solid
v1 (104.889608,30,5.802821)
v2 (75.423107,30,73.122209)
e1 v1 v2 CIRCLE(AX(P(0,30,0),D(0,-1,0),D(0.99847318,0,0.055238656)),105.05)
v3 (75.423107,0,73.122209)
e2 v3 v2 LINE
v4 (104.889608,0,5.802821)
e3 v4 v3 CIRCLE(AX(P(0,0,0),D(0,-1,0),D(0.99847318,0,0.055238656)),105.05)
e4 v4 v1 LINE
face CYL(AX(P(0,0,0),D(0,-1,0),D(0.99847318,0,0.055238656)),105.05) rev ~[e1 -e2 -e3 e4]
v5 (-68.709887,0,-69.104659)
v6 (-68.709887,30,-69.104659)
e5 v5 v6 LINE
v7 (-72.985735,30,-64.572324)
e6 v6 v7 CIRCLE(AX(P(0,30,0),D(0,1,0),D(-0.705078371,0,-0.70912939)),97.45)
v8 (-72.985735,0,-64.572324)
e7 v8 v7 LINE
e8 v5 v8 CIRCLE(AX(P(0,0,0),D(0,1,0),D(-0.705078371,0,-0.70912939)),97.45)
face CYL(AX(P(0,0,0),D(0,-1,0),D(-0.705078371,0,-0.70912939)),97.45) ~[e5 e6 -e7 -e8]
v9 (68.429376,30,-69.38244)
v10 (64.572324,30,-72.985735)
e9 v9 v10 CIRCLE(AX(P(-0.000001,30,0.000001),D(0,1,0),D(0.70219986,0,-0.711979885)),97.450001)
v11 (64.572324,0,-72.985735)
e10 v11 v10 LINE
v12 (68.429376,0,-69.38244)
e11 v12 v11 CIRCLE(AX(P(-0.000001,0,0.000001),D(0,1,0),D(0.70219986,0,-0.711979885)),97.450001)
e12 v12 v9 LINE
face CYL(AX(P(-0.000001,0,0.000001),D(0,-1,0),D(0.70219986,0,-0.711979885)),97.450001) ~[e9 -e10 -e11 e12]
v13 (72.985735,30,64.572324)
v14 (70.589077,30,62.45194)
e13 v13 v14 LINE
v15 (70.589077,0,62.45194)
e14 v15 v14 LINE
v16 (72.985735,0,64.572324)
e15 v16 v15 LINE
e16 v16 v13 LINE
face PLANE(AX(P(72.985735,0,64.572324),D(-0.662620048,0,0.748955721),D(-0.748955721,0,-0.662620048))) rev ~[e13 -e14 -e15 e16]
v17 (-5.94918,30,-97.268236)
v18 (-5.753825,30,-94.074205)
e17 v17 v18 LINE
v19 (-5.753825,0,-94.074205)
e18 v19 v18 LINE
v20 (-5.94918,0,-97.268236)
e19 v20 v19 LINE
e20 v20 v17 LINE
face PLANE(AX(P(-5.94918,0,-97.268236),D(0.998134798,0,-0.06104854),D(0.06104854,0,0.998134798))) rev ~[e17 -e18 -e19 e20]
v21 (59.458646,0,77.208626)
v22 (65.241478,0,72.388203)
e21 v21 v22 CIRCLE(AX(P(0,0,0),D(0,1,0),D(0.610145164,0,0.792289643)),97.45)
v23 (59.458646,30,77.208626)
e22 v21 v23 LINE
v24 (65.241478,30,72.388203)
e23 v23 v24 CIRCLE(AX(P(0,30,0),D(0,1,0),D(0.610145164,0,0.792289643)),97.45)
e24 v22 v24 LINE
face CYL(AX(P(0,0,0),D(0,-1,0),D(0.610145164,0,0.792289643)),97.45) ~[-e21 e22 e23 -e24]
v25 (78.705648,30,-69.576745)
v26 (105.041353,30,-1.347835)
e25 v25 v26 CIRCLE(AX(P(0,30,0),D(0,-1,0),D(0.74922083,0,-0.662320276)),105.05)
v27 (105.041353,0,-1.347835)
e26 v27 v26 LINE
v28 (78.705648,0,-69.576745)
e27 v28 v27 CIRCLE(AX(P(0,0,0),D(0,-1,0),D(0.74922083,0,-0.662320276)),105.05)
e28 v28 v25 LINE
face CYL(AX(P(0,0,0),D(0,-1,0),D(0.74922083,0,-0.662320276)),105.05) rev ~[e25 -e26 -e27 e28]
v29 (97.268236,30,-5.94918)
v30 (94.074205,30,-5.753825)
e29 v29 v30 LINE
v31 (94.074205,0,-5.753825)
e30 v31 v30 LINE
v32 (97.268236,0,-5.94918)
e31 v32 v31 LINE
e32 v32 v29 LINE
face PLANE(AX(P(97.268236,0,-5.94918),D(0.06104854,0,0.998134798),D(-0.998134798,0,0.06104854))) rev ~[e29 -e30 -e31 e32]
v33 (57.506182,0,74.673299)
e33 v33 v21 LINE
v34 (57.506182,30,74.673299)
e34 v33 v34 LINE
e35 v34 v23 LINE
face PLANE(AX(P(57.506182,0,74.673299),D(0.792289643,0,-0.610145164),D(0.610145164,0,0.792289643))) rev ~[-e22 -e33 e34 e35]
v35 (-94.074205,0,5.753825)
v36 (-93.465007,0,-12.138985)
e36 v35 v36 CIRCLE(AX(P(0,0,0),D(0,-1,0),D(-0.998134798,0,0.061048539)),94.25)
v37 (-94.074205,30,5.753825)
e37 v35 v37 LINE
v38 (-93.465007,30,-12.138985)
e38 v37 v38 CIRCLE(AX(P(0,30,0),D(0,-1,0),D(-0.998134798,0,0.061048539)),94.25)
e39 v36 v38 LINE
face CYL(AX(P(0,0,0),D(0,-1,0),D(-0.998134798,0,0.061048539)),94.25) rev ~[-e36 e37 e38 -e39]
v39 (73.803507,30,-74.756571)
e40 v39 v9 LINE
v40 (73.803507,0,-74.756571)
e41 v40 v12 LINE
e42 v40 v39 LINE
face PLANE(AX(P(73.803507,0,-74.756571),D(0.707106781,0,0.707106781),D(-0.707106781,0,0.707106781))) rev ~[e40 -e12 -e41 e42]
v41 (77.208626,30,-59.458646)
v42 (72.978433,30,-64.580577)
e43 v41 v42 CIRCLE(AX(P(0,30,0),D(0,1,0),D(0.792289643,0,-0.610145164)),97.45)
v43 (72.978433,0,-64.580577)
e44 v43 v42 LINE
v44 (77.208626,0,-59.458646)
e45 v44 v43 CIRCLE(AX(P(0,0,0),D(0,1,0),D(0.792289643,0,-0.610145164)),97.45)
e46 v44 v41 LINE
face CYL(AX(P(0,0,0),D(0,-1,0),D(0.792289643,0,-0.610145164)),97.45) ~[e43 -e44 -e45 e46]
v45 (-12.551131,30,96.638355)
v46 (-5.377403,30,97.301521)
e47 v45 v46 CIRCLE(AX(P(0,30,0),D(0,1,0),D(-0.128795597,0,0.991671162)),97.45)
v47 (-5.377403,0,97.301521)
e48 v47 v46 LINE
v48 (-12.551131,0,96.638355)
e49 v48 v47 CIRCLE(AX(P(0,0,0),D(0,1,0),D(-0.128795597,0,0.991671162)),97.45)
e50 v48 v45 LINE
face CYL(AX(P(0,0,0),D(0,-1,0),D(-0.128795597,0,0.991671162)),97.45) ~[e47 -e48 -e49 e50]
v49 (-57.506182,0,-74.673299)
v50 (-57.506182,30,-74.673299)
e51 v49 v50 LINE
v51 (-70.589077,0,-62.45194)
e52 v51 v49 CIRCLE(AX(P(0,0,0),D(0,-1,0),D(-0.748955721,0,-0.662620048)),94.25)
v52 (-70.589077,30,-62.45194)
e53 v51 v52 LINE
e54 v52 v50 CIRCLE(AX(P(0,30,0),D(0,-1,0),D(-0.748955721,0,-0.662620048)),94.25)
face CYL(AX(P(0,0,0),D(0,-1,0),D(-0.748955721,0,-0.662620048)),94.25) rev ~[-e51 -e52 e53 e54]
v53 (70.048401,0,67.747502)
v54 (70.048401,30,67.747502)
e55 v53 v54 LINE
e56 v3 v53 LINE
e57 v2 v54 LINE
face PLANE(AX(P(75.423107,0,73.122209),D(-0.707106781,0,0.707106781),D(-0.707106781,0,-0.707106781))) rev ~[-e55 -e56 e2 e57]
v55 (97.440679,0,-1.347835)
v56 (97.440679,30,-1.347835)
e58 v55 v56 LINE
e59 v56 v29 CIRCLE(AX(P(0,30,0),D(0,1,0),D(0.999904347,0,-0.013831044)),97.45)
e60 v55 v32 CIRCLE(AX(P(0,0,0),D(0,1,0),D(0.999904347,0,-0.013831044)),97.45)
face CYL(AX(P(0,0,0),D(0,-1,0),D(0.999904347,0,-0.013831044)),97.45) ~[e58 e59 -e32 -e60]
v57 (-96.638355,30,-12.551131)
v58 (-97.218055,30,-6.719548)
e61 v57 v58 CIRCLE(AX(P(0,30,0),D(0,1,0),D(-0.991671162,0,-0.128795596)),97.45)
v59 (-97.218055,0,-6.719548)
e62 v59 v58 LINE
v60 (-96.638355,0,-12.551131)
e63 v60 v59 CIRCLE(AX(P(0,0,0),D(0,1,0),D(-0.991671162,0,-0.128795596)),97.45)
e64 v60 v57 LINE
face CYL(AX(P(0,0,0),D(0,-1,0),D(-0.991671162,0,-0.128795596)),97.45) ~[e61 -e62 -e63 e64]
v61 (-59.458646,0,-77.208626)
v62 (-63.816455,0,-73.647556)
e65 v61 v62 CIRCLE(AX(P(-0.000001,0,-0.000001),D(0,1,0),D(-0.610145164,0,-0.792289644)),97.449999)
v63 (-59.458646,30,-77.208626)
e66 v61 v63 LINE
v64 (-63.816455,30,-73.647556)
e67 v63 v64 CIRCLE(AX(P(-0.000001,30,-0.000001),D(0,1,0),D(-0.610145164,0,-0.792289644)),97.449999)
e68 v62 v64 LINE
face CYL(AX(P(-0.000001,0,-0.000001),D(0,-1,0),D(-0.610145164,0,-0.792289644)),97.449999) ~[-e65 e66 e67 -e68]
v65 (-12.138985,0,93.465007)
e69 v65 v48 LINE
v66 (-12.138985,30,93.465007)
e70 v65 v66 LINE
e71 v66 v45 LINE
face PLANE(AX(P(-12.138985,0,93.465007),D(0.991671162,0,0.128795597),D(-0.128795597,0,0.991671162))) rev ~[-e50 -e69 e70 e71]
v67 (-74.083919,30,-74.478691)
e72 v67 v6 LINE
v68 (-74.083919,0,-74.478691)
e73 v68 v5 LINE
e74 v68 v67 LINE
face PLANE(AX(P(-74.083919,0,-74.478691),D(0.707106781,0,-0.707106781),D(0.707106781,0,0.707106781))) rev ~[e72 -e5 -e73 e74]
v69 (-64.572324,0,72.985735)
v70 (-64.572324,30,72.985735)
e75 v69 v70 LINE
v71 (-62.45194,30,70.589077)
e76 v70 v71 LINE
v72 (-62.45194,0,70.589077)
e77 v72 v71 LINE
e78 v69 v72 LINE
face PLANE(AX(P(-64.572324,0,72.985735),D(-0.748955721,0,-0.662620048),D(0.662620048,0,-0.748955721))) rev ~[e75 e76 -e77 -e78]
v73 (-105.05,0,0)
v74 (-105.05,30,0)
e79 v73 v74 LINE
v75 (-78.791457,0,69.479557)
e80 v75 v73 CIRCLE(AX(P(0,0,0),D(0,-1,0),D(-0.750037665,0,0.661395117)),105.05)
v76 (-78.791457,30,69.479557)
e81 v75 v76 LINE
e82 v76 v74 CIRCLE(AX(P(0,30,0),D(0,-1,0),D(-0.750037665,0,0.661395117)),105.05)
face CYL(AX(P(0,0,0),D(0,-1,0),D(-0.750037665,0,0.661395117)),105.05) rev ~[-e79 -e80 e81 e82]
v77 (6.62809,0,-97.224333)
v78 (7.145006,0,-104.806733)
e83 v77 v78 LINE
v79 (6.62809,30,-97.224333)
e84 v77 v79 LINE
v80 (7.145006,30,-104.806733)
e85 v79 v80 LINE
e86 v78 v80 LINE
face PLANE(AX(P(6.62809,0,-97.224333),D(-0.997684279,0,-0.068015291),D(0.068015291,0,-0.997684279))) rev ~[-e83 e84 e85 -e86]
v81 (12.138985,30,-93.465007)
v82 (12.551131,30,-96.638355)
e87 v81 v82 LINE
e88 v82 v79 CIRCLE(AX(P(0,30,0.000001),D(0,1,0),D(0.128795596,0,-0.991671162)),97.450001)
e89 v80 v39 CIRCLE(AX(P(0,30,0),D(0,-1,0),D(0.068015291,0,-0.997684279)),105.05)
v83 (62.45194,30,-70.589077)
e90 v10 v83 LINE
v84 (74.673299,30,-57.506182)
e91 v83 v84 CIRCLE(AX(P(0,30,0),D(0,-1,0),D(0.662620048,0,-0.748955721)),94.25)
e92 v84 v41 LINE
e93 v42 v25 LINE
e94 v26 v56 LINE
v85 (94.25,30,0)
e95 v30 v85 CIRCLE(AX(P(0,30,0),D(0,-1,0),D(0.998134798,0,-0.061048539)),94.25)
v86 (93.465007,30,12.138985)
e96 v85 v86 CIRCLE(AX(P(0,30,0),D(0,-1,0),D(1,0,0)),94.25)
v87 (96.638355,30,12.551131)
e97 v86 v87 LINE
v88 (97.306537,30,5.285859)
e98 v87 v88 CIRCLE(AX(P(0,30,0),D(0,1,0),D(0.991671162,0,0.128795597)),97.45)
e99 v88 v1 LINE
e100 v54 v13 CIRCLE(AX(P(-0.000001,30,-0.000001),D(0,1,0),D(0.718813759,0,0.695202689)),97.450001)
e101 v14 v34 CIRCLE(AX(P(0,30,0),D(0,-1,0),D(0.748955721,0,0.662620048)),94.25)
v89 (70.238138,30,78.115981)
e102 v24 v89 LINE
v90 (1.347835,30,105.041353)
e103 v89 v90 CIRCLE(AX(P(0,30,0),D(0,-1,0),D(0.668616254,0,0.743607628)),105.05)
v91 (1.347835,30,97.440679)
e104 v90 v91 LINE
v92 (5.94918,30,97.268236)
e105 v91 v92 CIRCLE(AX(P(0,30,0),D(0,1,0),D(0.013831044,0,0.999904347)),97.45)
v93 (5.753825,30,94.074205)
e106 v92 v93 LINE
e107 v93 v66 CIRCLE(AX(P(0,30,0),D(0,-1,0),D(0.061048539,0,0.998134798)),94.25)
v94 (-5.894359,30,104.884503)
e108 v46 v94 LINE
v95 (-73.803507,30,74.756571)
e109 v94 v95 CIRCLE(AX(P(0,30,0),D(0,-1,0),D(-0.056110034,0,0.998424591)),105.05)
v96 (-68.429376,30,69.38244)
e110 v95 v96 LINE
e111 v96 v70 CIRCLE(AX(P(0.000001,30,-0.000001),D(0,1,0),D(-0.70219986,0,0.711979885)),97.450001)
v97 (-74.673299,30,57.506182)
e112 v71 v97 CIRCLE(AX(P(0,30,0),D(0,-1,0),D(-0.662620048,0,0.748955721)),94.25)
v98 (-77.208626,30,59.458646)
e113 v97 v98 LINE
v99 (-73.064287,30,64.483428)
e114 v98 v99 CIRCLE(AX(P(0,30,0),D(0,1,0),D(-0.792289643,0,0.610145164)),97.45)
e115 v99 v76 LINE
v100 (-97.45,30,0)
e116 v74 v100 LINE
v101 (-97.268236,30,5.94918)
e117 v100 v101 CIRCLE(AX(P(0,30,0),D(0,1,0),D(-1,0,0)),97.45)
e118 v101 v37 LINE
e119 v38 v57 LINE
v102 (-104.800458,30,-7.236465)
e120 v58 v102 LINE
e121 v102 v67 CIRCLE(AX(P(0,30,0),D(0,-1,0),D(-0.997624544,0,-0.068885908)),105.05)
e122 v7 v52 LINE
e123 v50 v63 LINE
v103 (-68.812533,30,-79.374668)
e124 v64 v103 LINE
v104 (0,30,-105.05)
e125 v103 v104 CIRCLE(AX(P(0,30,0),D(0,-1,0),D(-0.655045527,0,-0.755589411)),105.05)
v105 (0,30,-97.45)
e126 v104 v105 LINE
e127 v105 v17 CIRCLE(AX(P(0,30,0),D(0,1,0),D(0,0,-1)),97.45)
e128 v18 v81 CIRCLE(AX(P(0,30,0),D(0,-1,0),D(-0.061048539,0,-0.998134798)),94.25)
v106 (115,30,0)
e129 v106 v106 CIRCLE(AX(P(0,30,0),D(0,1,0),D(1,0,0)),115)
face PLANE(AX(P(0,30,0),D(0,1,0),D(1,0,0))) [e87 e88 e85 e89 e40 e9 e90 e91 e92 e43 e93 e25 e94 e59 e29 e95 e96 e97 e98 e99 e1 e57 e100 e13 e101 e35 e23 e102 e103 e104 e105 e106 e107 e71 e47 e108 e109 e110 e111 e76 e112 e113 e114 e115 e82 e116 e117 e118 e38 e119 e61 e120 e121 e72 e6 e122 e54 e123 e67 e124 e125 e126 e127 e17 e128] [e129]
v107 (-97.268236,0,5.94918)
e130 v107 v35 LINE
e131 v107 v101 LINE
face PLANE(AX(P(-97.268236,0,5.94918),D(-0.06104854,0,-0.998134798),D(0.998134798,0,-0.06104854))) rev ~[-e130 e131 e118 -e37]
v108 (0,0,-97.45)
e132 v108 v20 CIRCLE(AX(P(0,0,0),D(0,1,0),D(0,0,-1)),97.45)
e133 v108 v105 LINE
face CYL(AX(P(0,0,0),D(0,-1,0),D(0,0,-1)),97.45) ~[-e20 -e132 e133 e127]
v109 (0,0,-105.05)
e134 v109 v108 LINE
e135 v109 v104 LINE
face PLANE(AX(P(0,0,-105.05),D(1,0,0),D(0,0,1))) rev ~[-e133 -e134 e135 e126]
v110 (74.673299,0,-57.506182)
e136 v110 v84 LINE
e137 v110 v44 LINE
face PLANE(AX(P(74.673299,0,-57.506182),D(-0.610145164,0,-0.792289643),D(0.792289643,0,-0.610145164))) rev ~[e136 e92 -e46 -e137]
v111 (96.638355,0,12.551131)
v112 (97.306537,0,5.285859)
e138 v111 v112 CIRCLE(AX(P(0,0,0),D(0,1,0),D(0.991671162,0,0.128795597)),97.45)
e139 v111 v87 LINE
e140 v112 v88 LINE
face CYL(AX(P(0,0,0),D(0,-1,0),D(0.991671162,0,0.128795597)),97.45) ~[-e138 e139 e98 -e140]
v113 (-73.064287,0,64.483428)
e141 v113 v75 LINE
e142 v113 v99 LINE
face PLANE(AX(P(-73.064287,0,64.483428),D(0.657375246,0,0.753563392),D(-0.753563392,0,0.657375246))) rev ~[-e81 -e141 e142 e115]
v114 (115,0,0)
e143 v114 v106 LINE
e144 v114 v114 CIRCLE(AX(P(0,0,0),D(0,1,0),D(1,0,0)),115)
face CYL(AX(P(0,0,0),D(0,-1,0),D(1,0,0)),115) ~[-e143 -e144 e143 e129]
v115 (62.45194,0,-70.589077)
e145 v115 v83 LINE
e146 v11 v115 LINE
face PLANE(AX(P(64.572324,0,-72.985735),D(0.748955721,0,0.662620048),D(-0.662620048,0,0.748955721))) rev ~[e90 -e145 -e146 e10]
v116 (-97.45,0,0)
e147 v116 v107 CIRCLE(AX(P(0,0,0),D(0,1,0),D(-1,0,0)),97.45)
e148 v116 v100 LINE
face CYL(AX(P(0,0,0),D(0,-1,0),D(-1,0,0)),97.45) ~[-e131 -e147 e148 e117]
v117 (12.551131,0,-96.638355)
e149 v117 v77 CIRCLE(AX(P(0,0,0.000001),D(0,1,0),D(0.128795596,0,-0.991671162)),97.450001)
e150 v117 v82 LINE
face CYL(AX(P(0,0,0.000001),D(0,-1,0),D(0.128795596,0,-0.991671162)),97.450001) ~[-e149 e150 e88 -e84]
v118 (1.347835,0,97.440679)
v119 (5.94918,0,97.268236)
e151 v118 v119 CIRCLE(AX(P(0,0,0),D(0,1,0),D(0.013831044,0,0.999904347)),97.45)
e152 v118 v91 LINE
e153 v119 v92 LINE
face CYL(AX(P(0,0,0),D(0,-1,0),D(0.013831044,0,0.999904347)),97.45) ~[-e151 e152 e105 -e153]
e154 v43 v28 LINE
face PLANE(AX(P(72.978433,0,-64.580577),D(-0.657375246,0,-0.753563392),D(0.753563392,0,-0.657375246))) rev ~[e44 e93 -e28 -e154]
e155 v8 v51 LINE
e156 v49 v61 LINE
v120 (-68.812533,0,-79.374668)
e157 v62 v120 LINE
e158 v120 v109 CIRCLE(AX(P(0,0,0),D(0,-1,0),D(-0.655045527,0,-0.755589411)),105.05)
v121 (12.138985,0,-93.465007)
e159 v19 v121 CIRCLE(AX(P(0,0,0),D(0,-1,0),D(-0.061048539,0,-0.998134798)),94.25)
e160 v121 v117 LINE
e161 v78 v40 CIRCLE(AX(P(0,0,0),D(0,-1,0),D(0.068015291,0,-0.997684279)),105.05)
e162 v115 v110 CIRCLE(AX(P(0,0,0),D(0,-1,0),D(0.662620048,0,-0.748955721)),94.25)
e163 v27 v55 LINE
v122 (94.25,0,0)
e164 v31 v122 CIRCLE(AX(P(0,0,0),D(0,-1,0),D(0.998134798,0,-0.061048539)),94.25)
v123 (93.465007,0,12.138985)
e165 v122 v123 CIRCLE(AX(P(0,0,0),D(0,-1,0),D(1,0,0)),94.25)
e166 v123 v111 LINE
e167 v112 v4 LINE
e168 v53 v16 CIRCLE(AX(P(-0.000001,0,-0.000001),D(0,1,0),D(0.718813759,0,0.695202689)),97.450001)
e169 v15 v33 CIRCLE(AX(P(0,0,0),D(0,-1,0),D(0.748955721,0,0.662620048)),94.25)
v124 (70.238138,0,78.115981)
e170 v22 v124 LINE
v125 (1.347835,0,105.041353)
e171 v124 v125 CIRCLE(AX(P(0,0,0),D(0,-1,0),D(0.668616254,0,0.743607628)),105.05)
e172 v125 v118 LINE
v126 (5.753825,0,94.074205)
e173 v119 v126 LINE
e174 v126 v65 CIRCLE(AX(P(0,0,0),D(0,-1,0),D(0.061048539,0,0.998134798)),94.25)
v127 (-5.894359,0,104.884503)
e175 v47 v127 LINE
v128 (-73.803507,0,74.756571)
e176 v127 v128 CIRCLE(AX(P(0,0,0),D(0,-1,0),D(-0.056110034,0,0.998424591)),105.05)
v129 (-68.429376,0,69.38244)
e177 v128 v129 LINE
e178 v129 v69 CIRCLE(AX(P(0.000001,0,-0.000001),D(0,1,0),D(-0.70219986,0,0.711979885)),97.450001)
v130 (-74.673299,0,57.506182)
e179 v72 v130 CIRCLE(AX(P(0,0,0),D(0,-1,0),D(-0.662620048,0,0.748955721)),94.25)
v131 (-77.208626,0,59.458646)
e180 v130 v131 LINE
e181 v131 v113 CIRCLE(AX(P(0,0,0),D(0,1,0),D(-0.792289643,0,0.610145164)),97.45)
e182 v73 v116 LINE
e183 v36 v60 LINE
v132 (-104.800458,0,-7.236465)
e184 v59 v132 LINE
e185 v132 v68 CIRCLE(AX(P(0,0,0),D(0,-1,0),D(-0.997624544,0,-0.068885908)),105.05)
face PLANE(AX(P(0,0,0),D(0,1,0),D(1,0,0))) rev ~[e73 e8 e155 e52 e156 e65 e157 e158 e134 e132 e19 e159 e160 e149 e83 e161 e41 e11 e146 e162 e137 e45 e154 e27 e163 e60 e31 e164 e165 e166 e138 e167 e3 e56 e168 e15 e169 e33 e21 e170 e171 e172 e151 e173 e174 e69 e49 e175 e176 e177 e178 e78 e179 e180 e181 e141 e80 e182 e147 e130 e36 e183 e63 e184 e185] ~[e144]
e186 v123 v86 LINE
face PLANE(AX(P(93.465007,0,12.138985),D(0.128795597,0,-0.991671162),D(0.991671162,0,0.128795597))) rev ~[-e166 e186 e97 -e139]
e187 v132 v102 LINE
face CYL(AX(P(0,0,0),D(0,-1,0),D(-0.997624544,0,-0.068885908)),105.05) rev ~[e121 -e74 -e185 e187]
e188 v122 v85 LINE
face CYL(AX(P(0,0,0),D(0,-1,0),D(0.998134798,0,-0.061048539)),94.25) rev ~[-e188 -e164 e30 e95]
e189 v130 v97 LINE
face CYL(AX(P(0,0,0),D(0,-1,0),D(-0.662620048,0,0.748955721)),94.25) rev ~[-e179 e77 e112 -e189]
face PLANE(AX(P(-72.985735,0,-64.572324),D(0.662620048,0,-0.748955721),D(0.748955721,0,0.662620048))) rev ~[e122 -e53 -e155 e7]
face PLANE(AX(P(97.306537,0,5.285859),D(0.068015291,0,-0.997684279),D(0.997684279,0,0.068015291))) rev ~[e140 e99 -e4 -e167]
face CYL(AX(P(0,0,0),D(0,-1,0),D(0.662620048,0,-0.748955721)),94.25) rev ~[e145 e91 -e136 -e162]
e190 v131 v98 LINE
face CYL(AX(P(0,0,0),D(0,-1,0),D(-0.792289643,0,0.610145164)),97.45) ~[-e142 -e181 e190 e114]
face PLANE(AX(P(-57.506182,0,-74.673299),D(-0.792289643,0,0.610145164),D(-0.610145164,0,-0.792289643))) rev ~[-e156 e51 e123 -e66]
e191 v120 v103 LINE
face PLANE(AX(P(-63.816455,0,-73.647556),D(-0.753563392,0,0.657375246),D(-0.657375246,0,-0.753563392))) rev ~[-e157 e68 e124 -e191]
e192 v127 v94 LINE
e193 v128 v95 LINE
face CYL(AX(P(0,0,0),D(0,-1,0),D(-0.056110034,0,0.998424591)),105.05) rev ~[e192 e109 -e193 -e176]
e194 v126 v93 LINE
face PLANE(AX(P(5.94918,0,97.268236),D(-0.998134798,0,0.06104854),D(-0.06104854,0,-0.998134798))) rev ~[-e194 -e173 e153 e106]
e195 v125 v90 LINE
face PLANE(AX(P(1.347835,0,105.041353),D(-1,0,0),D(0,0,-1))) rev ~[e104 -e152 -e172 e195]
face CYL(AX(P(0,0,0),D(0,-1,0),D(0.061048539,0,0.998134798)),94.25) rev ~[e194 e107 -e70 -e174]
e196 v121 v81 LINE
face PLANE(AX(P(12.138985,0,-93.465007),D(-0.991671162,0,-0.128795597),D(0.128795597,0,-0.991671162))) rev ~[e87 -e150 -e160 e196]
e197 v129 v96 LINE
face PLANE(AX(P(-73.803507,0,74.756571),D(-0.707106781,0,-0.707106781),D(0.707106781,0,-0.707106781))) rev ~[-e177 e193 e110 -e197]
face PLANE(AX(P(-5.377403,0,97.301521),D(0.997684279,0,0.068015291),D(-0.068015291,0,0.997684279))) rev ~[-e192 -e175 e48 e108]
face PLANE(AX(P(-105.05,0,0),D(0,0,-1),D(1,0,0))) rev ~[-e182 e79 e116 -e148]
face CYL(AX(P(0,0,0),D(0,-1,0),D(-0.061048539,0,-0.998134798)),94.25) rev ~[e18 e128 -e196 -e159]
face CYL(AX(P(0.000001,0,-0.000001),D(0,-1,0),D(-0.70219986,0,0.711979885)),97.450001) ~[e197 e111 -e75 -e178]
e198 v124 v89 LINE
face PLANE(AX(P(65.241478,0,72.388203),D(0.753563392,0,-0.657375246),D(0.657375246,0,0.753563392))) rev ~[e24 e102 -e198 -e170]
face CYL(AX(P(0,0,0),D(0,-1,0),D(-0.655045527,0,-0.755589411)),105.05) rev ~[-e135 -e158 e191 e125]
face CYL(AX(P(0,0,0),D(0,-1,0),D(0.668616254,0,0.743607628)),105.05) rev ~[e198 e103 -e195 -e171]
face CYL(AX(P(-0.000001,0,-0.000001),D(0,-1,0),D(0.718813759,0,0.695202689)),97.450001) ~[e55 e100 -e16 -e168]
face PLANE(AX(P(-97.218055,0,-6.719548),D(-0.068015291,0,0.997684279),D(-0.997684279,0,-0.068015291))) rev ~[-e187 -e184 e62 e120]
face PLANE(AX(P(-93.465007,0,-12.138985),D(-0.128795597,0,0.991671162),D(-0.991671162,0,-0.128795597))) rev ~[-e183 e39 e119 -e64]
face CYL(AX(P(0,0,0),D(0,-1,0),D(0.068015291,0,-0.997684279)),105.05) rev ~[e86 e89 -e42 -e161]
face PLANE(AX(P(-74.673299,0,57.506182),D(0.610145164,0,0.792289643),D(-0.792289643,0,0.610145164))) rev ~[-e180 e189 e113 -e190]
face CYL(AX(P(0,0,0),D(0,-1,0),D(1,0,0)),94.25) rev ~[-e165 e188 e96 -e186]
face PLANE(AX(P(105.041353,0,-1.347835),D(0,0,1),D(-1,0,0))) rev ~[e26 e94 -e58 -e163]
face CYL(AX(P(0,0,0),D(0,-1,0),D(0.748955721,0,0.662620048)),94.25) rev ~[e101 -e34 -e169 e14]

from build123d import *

# Parameters (mm, degrees)
SKETCH1_R           = 115
BOSS_EXTRUDE1_DEPTH = 30


with BuildPart() as part:
    # Sketch1 → Boss-Extrude1 (new body)
    with BuildSketch(Plane(origin=(0, 0, 0), x_dir=(1, 0, 0), z_dir=(0, 1, 0))):
        Circle(SKETCH1_R)
        with BuildLine():
            Line((0, 105.05), (0, 97.45))
            ThreePointArc((0, 97.45), (-2.975978112, 97.404548427), (-5.949180178, 97.268236106))
            Line((-5.949180178, 97.268236106), (-5.753824851, 94.074204751))
            ThreePointArc((-5.753824851, 94.074204751), (3.207077785, 94.195420016), (12.138984977, 93.465007055))
            Line((12.138984977, 93.465007055), (12.551130886, 96.638354774))
            ThreePointArc((12.551130886, 96.638354774), (9.59408525, 96.976574636), (6.628090075, 97.224332973))
            Line((6.628090075, 97.224332973), (7.145006284, 104.806733492))
            ThreePointArc((7.145006284, 104.806733492), (43.173122748, 95.768387123), (73.803507095, 74.756570551))
            Line((73.803507095, 74.756570551), (68.429376346, 69.382439802))
            ThreePointArc((68.429376346, 69.382439802), (66.525250753, 71.210206517), (64.572323699, 72.985734991))
            Line((64.572323699, 72.985734991), (62.451939544, 70.589076684))
            ThreePointArc((62.451939544, 70.589076684), (68.8739667, 64.338473801), (74.673298886, 57.506181698))
            Line((74.673298886, 57.506181698), (77.208625745, 59.458646222))
            ThreePointArc((77.208625745, 59.458646222), (75.137185677, 62.055667175), (72.978432671, 64.580576529))
            Line((72.978432671, 64.580576529), (78.705648152, 69.576745031))
            ThreePointArc((78.705648152, 69.576745031), (98.00273537, 37.828115999), (105.041353, 1.347835265))
            Line((105.041353, 1.347835265), (97.44067857, 1.347835265))
            ThreePointArc((97.44067857, 1.347835265), (97.381638194, 3.649526366), (97.268236106, 5.949180178))
            Line((97.268236106, 5.949180178), (94.074204751, 5.753824851))
            ThreePointArc((94.074204751, 5.753824851), (94.206040936, 2.87825487), (94.25, 0))
            ThreePointArc((94.25, 0), (94.053547022, -6.082170053), (93.465007055, -12.138984977))
            Line((93.465007055, -12.138984977), (96.638354774, -12.551130886))
            ThreePointArc((96.638354774, -12.551130886), (97.040462342, -8.92475033), (97.306537269, -5.285858937))
            Line((97.306537269, -5.285858937), (104.889607544, -5.802820805))
            ThreePointArc((104.889607544, -5.802820805), (96.234836599, -42.123137642), (75.423107292, -73.122208571))
            Line((75.423107292, -73.122208571), (70.048400827, -67.747502106))
            ThreePointArc((70.048400827, -67.747502106), (71.534686983, -66.176212178), (72.985734991, -64.572323699))
            Line((72.985734991, -64.572323699), (70.589076684, -62.451939544))
            ThreePointArc((70.589076684, -62.451939544), (64.338473801, -68.8739667), (57.506181698, -74.673298886))
            Line((57.506181698, -74.673298886), (59.458646222, -77.208625745))
            ThreePointArc((59.458646222, -77.208625745), (62.396629618, -74.854279185), (65.241478394, -72.388203438))
            Line((65.241478394, -72.388203438), (70.238137515, -78.115981326))
            ThreePointArc((70.238137515, -78.115981326), (38.241100725, -97.842325787), (1.347835265, -105.041353))
            Line((1.347835265, -105.041353), (1.347835265, -97.44067857))
            ThreePointArc((1.347835265, -97.44067857), (3.649526366, -97.381638194), (5.949180178, -97.268236106))
            Line((5.949180178, -97.268236106), (5.753824851, -94.074204751))
            ThreePointArc((5.753824851, -94.074204751), (-3.207077785, -94.195420016), (-12.138984977, -93.465007055))
            Line((-12.138984977, -93.465007055), (-12.551130886, -96.638354774))
            ThreePointArc((-12.551130886, -96.638354774), (-8.97039747, -97.036253376), (-5.377403168, -97.301521238))
            Line((-5.377403168, -97.301521238), (-5.894359023, -104.884503296))
            ThreePointArc((-5.894359023, -104.884503296), (-42.601180134, -96.024173786), (-73.803507095, -74.756570551))
            Line((-73.803507095, -74.756570551), (-68.429376346, -69.382439802))
            ThreePointArc((-68.429376346, -69.382439802), (-66.525250753, -71.210206517), (-64.572323699, -72.985734991))
            Line((-64.572323699, -72.985734991), (-62.451939544, -70.589076684))
            ThreePointArc((-62.451939544, -70.589076684), (-68.8739667, -64.338473801), (-74.673298886, -57.506181698))
            Line((-74.673298886, -57.506181698), (-77.208625745, -59.458646222))
            ThreePointArc((-77.208625745, -59.458646222), (-75.178448793, -62.005671814), (-73.064286712, -64.48342816))
            Line((-73.064286712, -64.48342816), (-78.791456749, -69.479557018))
            ThreePointArc((-78.791456749, -69.479557018), (-98.2663346, -37.137985733), (-105.05, 0))
            Line((-105.05, 0), (-97.45, 0))
            ThreePointArc((-97.45, 0), (-97.404548427, -2.975978112), (-97.268236106, -5.949180178))
            Line((-97.268236106, -5.949180178), (-94.074204751, -5.753824851))
            ThreePointArc((-94.074204751, -5.753824851), (-94.195420016, 3.207077785), (-93.465007055, 12.138984977))
            Line((-93.465007055, 12.138984977), (-96.638354774, 12.551130886))
            ThreePointArc((-96.638354774, 12.551130886), (-96.972051222, 9.639698217), (-97.218054759, 6.71954826))
            Line((-97.218054759, 6.71954826), (-104.800458391, 7.236464681))
            ThreePointArc((-104.800458391, 7.236464681), (-95.552521618, 43.64880425), (-74.083919205, 74.478691014))
            Line((-74.083919205, 74.478691014), (-68.709887215, 69.104659024))
            ThreePointArc((-68.709887215, 69.104659024), (-70.88404513, 66.872674883), (-72.985734991, 64.572323699))
            Line((-72.985734991, 64.572323699), (-70.589076684, 62.451939544))
            ThreePointArc((-70.589076684, 62.451939544), (-64.338473801, 68.8739667), (-57.506181698, 74.673298886))
            Line((-57.506181698, 74.673298886), (-59.458646222, 77.208625745))
            ThreePointArc((-59.458646222, 77.208625745), (-61.663262597, 75.459555697), (-63.816455081, 73.647556381))
            Line((-63.816455081, 73.647556381), (-68.812532618, 79.374667588))
            ThreePointArc((-68.812532618, 79.374667588), (-36.72324652, 98.422079154), (0, 105.05))
        make_face(mode=Mode.SUBTRACT)
    extrude(amount=BOSS_EXTRUDE1_DEPTH)


solid = part.part
